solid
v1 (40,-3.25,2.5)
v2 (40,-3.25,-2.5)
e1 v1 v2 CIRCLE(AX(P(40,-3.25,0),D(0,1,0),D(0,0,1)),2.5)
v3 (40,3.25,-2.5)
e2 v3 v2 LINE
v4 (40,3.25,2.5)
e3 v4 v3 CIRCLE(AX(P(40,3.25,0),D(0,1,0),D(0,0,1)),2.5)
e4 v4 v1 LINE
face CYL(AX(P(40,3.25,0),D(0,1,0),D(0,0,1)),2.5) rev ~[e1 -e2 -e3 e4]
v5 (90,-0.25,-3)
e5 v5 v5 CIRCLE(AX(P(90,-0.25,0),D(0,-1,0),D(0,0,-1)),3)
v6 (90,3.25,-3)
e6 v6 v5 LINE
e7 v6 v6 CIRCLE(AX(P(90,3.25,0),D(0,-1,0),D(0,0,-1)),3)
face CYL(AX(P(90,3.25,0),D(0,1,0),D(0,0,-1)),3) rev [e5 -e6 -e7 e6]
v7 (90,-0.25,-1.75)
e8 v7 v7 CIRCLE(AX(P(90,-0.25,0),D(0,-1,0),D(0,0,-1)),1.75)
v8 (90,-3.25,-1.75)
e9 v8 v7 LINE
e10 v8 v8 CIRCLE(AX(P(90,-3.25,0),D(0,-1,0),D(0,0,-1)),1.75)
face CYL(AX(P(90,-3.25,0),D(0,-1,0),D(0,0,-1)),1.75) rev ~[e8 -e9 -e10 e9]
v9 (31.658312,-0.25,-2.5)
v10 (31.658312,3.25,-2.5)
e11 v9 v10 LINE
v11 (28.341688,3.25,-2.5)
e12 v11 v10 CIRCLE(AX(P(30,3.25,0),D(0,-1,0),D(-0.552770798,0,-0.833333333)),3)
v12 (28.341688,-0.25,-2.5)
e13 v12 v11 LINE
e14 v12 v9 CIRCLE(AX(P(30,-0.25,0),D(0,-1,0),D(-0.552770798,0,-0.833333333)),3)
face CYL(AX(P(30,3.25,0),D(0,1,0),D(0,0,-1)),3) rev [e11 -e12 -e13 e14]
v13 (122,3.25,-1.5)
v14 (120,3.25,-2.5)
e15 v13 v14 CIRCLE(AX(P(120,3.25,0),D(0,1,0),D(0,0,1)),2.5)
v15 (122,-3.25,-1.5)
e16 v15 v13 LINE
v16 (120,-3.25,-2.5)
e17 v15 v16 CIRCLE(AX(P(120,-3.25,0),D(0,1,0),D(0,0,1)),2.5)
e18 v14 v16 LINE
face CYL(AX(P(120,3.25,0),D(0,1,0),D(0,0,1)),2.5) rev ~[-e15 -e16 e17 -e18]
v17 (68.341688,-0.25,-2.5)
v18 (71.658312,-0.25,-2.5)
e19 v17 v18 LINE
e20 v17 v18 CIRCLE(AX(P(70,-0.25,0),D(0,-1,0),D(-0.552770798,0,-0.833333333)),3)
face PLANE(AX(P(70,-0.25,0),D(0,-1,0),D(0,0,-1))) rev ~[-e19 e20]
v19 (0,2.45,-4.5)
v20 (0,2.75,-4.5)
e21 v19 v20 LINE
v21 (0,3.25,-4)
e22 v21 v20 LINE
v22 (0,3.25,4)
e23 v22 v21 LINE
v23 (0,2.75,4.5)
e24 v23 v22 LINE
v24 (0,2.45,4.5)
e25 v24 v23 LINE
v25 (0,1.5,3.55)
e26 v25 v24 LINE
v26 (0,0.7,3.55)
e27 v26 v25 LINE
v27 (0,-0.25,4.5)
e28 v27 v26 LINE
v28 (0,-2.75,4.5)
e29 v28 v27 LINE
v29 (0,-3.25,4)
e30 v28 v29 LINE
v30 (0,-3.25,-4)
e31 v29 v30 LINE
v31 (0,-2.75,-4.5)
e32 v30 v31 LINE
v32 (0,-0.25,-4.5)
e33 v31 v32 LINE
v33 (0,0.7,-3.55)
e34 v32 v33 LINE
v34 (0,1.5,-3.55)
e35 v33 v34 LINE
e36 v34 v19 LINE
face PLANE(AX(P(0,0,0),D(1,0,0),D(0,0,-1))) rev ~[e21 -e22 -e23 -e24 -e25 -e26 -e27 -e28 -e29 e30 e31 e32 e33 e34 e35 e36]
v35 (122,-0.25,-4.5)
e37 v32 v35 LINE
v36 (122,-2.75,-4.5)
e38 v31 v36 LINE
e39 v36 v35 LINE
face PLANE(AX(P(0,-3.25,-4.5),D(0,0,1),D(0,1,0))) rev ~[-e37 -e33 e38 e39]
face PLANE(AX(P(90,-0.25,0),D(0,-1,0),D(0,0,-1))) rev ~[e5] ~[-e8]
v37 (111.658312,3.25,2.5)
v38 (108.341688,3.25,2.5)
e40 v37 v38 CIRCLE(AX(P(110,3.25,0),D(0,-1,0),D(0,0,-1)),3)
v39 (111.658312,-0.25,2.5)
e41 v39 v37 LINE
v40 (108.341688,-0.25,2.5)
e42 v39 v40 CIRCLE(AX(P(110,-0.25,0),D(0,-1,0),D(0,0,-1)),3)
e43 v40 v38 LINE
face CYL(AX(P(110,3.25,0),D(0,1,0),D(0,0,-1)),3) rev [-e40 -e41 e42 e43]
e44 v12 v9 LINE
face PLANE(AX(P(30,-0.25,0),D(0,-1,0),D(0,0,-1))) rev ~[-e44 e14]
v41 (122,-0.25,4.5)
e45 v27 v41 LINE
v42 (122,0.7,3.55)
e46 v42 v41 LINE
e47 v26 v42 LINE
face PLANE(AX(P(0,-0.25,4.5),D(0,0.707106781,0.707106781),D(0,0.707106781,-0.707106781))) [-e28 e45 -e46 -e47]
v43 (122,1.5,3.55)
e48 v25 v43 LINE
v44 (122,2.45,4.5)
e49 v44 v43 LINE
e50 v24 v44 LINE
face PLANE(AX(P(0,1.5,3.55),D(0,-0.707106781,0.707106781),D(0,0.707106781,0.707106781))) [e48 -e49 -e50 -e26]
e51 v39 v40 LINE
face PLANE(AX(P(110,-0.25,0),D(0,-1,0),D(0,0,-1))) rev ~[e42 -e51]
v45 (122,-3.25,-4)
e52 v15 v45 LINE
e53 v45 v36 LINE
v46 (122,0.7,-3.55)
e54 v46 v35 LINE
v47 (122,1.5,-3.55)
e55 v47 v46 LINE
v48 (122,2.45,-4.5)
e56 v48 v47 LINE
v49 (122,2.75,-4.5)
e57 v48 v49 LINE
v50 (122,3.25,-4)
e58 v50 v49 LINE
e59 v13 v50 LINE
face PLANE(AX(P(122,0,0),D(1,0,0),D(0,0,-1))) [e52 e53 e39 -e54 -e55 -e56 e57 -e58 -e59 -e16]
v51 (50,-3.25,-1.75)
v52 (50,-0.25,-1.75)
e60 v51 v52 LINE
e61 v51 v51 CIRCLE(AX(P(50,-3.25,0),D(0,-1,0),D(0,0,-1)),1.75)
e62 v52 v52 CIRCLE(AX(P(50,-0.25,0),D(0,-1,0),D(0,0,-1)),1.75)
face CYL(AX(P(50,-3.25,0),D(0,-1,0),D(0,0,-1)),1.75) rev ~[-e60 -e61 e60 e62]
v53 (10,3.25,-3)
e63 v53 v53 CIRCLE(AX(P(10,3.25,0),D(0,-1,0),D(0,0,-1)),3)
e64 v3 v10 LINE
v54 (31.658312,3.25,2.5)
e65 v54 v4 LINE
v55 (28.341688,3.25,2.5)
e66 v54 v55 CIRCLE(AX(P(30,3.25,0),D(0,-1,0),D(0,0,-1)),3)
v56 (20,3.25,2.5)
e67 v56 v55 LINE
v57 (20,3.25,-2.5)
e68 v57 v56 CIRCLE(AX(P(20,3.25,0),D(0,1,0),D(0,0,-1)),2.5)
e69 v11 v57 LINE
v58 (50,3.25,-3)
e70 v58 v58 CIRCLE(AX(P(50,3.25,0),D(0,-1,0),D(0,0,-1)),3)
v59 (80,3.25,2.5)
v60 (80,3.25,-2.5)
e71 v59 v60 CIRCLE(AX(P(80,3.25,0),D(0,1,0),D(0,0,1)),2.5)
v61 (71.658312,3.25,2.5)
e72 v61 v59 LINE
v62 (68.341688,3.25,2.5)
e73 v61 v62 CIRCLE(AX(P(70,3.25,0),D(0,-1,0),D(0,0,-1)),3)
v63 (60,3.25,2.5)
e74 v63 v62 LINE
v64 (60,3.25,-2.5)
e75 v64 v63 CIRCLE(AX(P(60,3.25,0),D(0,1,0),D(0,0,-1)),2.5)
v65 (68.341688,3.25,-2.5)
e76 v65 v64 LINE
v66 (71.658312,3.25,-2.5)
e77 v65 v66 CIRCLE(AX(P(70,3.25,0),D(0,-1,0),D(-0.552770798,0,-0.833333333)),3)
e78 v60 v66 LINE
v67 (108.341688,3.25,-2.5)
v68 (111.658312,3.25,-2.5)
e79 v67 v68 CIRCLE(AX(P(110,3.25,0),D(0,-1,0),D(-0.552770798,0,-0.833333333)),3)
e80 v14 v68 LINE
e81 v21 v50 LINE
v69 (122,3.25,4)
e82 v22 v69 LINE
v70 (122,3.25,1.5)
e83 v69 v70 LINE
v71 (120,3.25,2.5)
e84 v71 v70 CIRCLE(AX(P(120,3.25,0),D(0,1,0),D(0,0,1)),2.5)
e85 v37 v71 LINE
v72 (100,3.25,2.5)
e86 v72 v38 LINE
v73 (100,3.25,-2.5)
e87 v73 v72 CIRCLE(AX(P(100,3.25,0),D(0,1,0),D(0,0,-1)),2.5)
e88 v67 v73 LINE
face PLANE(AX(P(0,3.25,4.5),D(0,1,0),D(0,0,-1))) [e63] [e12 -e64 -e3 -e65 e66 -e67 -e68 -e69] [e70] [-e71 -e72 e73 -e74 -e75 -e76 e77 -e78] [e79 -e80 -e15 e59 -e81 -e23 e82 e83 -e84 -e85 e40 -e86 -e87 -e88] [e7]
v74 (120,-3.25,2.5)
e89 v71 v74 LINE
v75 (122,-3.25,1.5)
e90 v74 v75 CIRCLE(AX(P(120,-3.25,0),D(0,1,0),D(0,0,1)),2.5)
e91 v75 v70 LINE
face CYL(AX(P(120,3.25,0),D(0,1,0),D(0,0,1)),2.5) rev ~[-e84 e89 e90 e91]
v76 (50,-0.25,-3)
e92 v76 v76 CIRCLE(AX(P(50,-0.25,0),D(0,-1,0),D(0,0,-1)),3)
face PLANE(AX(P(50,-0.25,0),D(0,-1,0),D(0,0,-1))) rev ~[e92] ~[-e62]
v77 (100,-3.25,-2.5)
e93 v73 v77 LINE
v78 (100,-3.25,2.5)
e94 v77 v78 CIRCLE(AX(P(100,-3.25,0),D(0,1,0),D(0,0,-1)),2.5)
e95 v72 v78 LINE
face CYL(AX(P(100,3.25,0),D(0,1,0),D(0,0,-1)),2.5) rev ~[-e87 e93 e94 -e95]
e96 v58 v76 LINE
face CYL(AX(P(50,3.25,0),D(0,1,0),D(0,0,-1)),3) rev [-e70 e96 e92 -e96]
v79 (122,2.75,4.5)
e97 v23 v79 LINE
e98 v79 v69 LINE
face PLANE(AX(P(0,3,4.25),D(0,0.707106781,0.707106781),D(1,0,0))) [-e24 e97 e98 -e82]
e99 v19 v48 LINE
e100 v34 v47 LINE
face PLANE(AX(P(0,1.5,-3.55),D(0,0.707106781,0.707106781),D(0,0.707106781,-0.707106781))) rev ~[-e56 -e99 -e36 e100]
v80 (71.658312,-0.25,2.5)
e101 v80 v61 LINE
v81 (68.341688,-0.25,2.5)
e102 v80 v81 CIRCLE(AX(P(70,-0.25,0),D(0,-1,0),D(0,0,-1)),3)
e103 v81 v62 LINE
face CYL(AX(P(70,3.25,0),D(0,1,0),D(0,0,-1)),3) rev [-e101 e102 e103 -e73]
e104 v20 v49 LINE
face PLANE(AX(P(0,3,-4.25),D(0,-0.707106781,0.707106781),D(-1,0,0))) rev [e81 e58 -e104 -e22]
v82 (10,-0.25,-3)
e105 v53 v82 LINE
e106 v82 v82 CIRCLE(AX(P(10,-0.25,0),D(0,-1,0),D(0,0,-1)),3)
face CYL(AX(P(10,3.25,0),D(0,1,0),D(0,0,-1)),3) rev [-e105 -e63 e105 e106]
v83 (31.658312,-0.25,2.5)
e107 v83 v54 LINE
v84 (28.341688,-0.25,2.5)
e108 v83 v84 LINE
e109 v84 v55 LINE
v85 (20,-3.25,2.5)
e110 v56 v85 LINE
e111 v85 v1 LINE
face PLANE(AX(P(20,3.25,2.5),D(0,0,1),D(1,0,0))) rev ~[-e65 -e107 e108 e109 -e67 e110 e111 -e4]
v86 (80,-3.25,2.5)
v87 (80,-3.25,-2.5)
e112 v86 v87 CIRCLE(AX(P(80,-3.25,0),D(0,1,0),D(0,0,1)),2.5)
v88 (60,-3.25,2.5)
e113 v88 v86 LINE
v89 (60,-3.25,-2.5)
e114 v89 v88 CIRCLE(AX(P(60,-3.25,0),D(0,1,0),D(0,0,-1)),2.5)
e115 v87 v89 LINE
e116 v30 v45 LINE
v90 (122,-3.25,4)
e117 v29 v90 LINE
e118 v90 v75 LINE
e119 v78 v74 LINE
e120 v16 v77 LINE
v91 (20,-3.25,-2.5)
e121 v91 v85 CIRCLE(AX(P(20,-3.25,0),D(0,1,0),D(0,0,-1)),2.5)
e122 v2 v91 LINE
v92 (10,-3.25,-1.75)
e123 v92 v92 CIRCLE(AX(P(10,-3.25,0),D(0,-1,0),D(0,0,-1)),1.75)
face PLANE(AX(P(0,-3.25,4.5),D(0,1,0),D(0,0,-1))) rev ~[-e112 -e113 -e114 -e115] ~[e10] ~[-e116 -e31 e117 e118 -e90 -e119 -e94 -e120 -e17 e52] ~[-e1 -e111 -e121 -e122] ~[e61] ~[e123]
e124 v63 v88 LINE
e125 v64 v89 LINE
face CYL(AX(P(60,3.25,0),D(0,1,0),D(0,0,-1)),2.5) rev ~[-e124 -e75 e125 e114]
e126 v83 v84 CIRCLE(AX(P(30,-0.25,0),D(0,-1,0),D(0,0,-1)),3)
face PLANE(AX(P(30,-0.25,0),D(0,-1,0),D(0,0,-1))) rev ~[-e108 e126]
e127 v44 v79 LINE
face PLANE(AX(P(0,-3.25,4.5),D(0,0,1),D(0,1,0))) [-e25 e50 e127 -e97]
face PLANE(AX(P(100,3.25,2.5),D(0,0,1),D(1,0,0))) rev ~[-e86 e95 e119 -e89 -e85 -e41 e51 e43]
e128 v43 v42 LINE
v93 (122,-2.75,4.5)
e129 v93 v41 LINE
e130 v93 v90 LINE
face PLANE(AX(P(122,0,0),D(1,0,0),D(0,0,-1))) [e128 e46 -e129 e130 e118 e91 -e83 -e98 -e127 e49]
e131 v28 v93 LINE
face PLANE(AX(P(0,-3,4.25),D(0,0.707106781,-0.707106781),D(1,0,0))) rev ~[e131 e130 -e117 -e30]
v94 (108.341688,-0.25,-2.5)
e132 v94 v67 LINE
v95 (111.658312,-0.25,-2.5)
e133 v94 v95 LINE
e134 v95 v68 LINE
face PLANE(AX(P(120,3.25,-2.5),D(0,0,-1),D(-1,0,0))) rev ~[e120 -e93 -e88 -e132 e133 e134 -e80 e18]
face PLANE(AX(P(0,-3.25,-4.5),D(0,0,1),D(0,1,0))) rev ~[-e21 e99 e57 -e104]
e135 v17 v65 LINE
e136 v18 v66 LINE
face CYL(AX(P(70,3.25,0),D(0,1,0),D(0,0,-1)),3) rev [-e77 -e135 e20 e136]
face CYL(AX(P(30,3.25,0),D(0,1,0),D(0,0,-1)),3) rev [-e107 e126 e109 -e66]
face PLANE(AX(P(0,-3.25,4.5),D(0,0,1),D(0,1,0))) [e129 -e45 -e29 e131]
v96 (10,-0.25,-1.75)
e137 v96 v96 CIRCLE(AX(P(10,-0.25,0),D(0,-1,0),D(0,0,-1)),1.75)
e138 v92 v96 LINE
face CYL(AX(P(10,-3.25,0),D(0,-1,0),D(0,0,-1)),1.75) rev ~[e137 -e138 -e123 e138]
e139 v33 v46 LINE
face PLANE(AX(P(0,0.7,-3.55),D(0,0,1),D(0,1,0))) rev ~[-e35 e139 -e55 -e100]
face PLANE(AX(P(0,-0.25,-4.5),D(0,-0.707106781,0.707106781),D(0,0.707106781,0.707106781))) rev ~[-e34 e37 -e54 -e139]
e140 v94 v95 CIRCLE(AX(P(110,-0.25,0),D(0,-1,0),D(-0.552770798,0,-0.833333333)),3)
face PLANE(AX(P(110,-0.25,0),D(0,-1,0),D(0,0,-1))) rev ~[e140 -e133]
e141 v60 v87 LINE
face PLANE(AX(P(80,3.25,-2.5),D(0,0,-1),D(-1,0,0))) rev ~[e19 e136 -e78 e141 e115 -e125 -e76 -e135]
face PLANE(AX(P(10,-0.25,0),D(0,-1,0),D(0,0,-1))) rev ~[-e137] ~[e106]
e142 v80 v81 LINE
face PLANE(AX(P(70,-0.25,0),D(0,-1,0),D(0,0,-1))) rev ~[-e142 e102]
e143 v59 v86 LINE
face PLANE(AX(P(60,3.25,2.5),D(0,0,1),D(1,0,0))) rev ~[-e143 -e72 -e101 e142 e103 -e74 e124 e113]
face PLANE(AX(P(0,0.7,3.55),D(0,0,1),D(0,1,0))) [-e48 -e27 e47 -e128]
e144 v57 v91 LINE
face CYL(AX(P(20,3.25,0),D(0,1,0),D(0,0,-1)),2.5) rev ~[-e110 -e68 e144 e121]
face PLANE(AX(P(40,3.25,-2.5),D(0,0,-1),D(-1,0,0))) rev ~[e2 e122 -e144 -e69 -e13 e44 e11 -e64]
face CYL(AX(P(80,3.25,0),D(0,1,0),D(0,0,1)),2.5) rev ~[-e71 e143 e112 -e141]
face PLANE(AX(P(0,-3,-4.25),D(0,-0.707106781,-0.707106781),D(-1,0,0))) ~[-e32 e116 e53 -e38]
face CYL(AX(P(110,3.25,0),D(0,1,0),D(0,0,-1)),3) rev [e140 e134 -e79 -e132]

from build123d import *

# Parameters (mm, degrees)
SKETCH_1_W            = 9
SKETCH_1_H            = 6.5
EXTRUDE_1_DEPTH       = 122
SKETCH_2_R            = 1.75
CUT_EXTRUDE_2_DEPTH   = 8
SKETCH_3_R            = 3
CUT_EXTRUDE_3_DEPTH   = 3.5
CHAMFER_1_SIZE        = 0.5
CUT_EXTRUDE_2_2_DEPTH = 123.126215449
CUT_EXTRUDE_3_2_DEPTH = 10


with BuildPart() as part:
    # 草图1 → 拉伸1 (new body)
    with BuildSketch(Plane(origin=(0, 0, 0), x_dir=(0, 0, -1), z_dir=(1, 0, 0))):
        Rectangle(SKETCH_1_W, SKETCH_1_H)
    extrude(amount=EXTRUDE_1_DEPTH)

    # 草图2 → Cut-Extrude 2 (cut)
    with BuildSketch(Plane.XZ.offset(3.25)):
        with Locations(Location((10, 0, 0), (0, 0, 270))):
            Circle(SKETCH_2_R)
        with Locations(Location((30, 0, 0), (0, 0, 270))):
            Circle(SKETCH_2_R)
        with Locations(Location((50, 0, 0), (0, 0, 270))):
            Circle(SKETCH_2_R)
        with Locations(Location((70, 0, 0), (0, 0, 270))):
            Circle(SKETCH_2_R)
        with Locations(Location((90, 0, 0), (0, 0, 270))):
            Circle(SKETCH_2_R)
        with Locations(Location((110, 0, 0), (0, 0, 270))):
            Circle(SKETCH_2_R)
        with Locations((130, 0)):
            Circle(SKETCH_2_R)
        with Locations((150, 0)):
            Circle(SKETCH_2_R)
        with Locations((170, 0)):
            Circle(SKETCH_2_R)
        with Locations((190, 0)):
            Circle(SKETCH_2_R)
        with Locations((210, 0)):
            Circle(SKETCH_2_R)
        with Locations((230, 0)):
            Circle(SKETCH_2_R)
        with Locations((250, 0)):
            Circle(SKETCH_2_R)
        with Locations((270, 0)):
            Circle(SKETCH_2_R)
        with Locations((290, 0)):
            Circle(SKETCH_2_R)
        with Locations((310, 0)):
            Circle(SKETCH_2_R)
        with Locations((330, 0)):
            Circle(SKETCH_2_R)
        with Locations((350, 0)):
            Circle(SKETCH_2_R)
        with Locations((370, 0)):
            Circle(SKETCH_2_R)
        with Locations((390, 0)):
            Circle(SKETCH_2_R)
        with Locations((410, 0)):
            Circle(SKETCH_2_R)
        with Locations((430, 0)):
            Circle(SKETCH_2_R)
        with Locations((450, 0)):
            Circle(SKETCH_2_R)
        with Locations((470, 0)):
            Circle(SKETCH_2_R)
        with Locations((490, 0)):
            Circle(SKETCH_2_R)
        with Locations((510, 0)):
            Circle(SKETCH_2_R)
        with Locations((530, 0)):
            Circle(SKETCH_2_R)
        with Locations((550, 0)):
            Circle(SKETCH_2_R)
        with Locations((570, 0)):
            Circle(SKETCH_2_R)
        with Locations((590, 0)):
            Circle(SKETCH_2_R)
        with Locations((610, 0)):
            Circle(SKETCH_2_R)
        with Locations((630, 0)):
            Circle(SKETCH_2_R)
        with Locations((650, 0)):
            Circle(SKETCH_2_R)
        with Locations((670, 0)):
            Circle(SKETCH_2_R)
        with Locations((690, 0)):
            Circle(SKETCH_2_R)
        with Locations((710, 0)):
            Circle(SKETCH_2_R)
        with Locations((730, 0)):
            Circle(SKETCH_2_R)
        with Locations((750, 0)):
            Circle(SKETCH_2_R)
        with Locations((770, 0)):
            Circle(SKETCH_2_R)
        with Locations((790, 0)):
            Circle(SKETCH_2_R)
        with Locations((810, 0)):
            Circle(SKETCH_2_R)
        with Locations((830, 0)):
            Circle(SKETCH_2_R)
        with Locations((850, 0)):
            Circle(SKETCH_2_R)
        with Locations((870, 0)):
            Circle(SKETCH_2_R)
        with Locations((890, 0)):
            Circle(SKETCH_2_R)
        with Locations((910, 0)):
            Circle(SKETCH_2_R)
        with Locations((930, 0)):
            Circle(SKETCH_2_R)
        with Locations((950, 0)):
            Circle(SKETCH_2_R)
        with Locations((970, 0)):
            Circle(SKETCH_2_R)
        with Locations((990, 0)):
            Circle(SKETCH_2_R)
        with Locations((1010, 0)):
            Circle(SKETCH_2_R)
        with Locations((1030, 0)):
            Circle(SKETCH_2_R)
        with Locations((1050, 0)):
            Circle(SKETCH_2_R)
        with Locations((1070, 0)):
            Circle(SKETCH_2_R)
        with Locations((1090, 0)):
            Circle(SKETCH_2_R)
        with Locations((1110, 0)):
            Circle(SKETCH_2_R)
        with Locations((1130, 0)):
            Circle(SKETCH_2_R)
        with Locations((1150, 0)):
            Circle(SKETCH_2_R)
        with Locations((1170, 0)):
            Circle(SKETCH_2_R)
        with Locations((1190, 0)):
            Circle(SKETCH_2_R)
    extrude(amount=-CUT_EXTRUDE_2_DEPTH, mode=Mode.SUBTRACT)

    # 草图3 → Cut-Extrude 3 (cut)
    with BuildSketch(Plane.XZ.offset(-3.25)):
        with Locations(Location((10, 0, 0), (0, 0, 270))):
            Circle(SKETCH_3_R)
        with Locations(Location((30, 0, 0), (0, 0, 270))):
            Circle(SKETCH_3_R)
        with Locations(Location((50, 0, 0), (0, 0, 270))):
            Circle(SKETCH_3_R)
        with Locations(Location((70, 0, 0), (0, 0, 270))):
            Circle(SKETCH_3_R)
        with Locations(Location((90, 0, 0), (0, 0, 270))):
            Circle(SKETCH_3_R)
        with Locations(Location((110, 0, 0), (0, 0, 270))):
            Circle(SKETCH_3_R)
        with Locations((130, 0)):
            Circle(SKETCH_3_R)
        with Locations((150, 0)):
            Circle(SKETCH_3_R)
        with Locations((170, 0)):
            Circle(SKETCH_3_R)
        with Locations((190, 0)):
            Circle(SKETCH_3_R)
        with Locations((210, 0)):
            Circle(SKETCH_3_R)
        with Locations((230, 0)):
            Circle(SKETCH_3_R)
        with Locations((250, 0)):
            Circle(SKETCH_3_R)
        with Locations((270, 0)):
            Circle(SKETCH_3_R)
        with Locations((290, 0)):
            Circle(SKETCH_3_R)
        with Locations((310, 0)):
            Circle(SKETCH_3_R)
        with Locations((330, 0)):
            Circle(SKETCH_3_R)
        with Locations((350, 0)):
            Circle(SKETCH_3_R)
        with Locations((370, 0)):
            Circle(SKETCH_3_R)
        with Locations((390, 0)):
            Circle(SKETCH_3_R)
        with Locations((410, 0)):
            Circle(SKETCH_3_R)
        with Locations((430, 0)):
            Circle(SKETCH_3_R)
        with Locations((450, 0)):
            Circle(SKETCH_3_R)
        with Locations((470, 0)):
            Circle(SKETCH_3_R)
        with Locations((490, 0)):
            Circle(SKETCH_3_R)
        with Locations((510, 0)):
            Circle(SKETCH_3_R)
        with Locations((530, 0)):
            Circle(SKETCH_3_R)
        with Locations((550, 0)):
            Circle(SKETCH_3_R)
        with Locations((570, 0)):
            Circle(SKETCH_3_R)
        with Locations((590, 0)):
            Circle(SKETCH_3_R)
        with Locations((610, 0)):
            Circle(SKETCH_3_R)
        with Locations((630, 0)):
            Circle(SKETCH_3_R)
        with Locations((650, 0)):
            Circle(SKETCH_3_R)
        with Locations((670, 0)):
            Circle(SKETCH_3_R)
        with Locations((690, 0)):
            Circle(SKETCH_3_R)
        with Locations((710, 0)):
            Circle(SKETCH_3_R)
        with Locations((730, 0)):
            Circle(SKETCH_3_R)
        with Locations((750, 0)):
            Circle(SKETCH_3_R)
        with Locations((770, 0)):
            Circle(SKETCH_3_R)
        with Locations((790, 0)):
            Circle(SKETCH_3_R)
        with Locations((810, 0)):
            Circle(SKETCH_3_R)
        with Locations((830, 0)):
            Circle(SKETCH_3_R)
        with Locations((850, 0)):
            Circle(SKETCH_3_R)
        with Locations((870, 0)):
            Circle(SKETCH_3_R)
        with Locations((890, 0)):
            Circle(SKETCH_3_R)
        with Locations((910, 0)):
            Circle(SKETCH_3_R)
        with Locations((930, 0)):
            Circle(SKETCH_3_R)
        with Locations((950, 0)):
            Circle(SKETCH_3_R)
        with Locations((970, 0)):
            Circle(SKETCH_3_R)
        with Locations((990, 0)):
            Circle(SKETCH_3_R)
        with Locations((1010, 0)):
            Circle(SKETCH_3_R)
        with Locations((1030, 0)):
            Circle(SKETCH_3_R)
        with Locations((1050, 0)):
            Circle(SKETCH_3_R)
        with Locations((1070, 0)):
            Circle(SKETCH_3_R)
        with Locations((1090, 0)):
            Circle(SKETCH_3_R)
        with Locations((1110, 0)):
            Circle(SKETCH_3_R)
        with Locations((1130, 0)):
            Circle(SKETCH_3_R)
        with Locations((1150, 0)):
            Circle(SKETCH_3_R)
        with Locations((1170, 0)):
            Circle(SKETCH_3_R)
        with Locations((1190, 0)):
            Circle(SKETCH_3_R)
    extrude(amount=CUT_EXTRUDE_3_DEPTH, mode=Mode.SUBTRACT)

    # 倒角1
    chamfer_1_edges = [part.edges().sort_by_distance(p)[0] for p in [
        (61, 3.25, 4.5),
        (61, 3.25, -4.5),
        (61, -3.25, -4.5),
        (61, -3.25, 4.5),
    ]]
    chamfer(chamfer_1_edges, length=CHAMFER_1_SIZE)

    # 草图4 → Cut-Extrude 2 2 (cut, through all)
    with BuildSketch(Plane.ZY):
        Polygon((-4.5, 2.45), (-4.5, -0.25), (-3.55, 0.7), (-3.55, 1.5), align=None)
        Polygon((4.5, 2.45), (4.5, -0.25), (3.55, 0.7), (3.55, 1.5), align=None)
    extrude(amount=-CUT_EXTRUDE_2_2_DEPTH, mode=Mode.SUBTRACT)

    # 草图5 → Cut-Extrude 3 2 (cut)
    with BuildSketch(Plane(origin=(0, 3.25, 0), x_dir=(1, 0, 0), z_dir=(0, 1, 0))):
        with BuildLine():
            Line((60, -2.5), (80, -2.5))
            ThreePointArc((80, -2.5), (82.5, 0), (80, 2.5))
            Line((80, 2.5), (60, 2.5))
            ThreePointArc((60, 2.5), (57.5, 0), (60, -2.5))
        make_face()
        with BuildLine():
            Line((20, -2.5), (40, -2.5))
            ThreePointArc((40, -2.5), (42.5, 0), (40, 2.5))
            Line((40, 2.5), (20, 2.5))
            ThreePointArc((20, 2.5), (17.5, 0), (20, -2.5))
        make_face()
        with BuildLine():
            Line((100, -2.5), (120, -2.5))
            ThreePointArc((120, -2.5), (122.5, 0), (120, 2.5))
            Line((120, 2.5), (100, 2.5))
            ThreePointArc((100, 2.5), (97.5, 0), (100, -2.5))
        make_face()
        with BuildLine():
            Line((140, -2.5), (160, -2.5))
            ThreePointArc((160, -2.5), (162.5, 0), (160, 2.5))
            Line((160, 2.5), (140, 2.5))
            ThreePointArc((140, 2.5), (137.5, 0), (140, -2.5))
        make_face()
        with BuildLine():
            Line((180, -2.5), (200, -2.5))
            ThreePointArc((200, -2.5), (202.5, 0), (200, 2.5))
            Line((200, 2.5), (180, 2.5))
            ThreePointArc((180, 2.5), (177.5, 0), (180, -2.5))
        make_face()
        with BuildLine():
            Line((220, -2.5), (240, -2.5))
            ThreePointArc((240, -2.5), (242.5, 0), (240, 2.5))
            Line((240, 2.5), (220, 2.5))
            ThreePointArc((220, 2.5), (217.5, 0), (220, -2.5))
        make_face()
        with BuildLine():
            Line((260, -2.5), (280, -2.5))
            ThreePointArc((280, -2.5), (282.5, 0), (280, 2.5))
            Line((280, 2.5), (260, 2.5))
            ThreePointArc((260, 2.5), (257.5, 0), (260, -2.5))
        make_face()
        with BuildLine():
            Line((300, -2.5), (320, -2.5))
            ThreePointArc((320, -2.5), (322.5, 0), (320, 2.5))
            Line((320, 2.5), (300, 2.5))
            ThreePointArc((300, 2.5), (297.5, 0), (300, -2.5))
        make_face()
        with BuildLine():
            Line((340, -2.5), (360, -2.5))
            ThreePointArc((360, -2.5), (362.5, 0), (360, 2.5))
            Line((360, 2.5), (340, 2.5))
            ThreePointArc((340, 2.5), (337.5, 0), (340, -2.5))
        make_face()
        with BuildLine():
            Line((380, -2.5), (400, -2.5))
            ThreePointArc((400, -2.5), (402.5, 0), (400, 2.5))
            Line((400, 2.5), (380, 2.5))
            ThreePointArc((380, 2.5), (377.5, 0), (380, -2.5))
        make_face()
        with BuildLine():
            Line((420, -2.5), (440, -2.5))
            ThreePointArc((440, -2.5), (442.5, 0), (440, 2.5))
            Line((440, 2.5), (420, 2.5))
            ThreePointArc((420, 2.5), (417.5, 0), (420, -2.5))
        make_face()
        with BuildLine():
            Line((460, -2.5), (480, -2.5))
            ThreePointArc((480, -2.5), (482.5, 0), (480, 2.5))
            Line((480, 2.5), (460, 2.5))
            ThreePointArc((460, 2.5), (457.5, 0), (460, -2.5))
        make_face()
        with BuildLine():
            Line((500, -2.5), (520, -2.5))
            ThreePointArc((520, -2.5), (522.5, 0), (520, 2.5))
            Line((520, 2.5), (500, 2.5))
            ThreePointArc((500, 2.5), (497.5, 0), (500, -2.5))
        make_face()
        with BuildLine():
            Line((540, -2.5), (560, -2.5))
            ThreePointArc((560, -2.5), (562.5, 0), (560, 2.5))
            Line((560, 2.5), (540, 2.5))
            ThreePointArc((540, 2.5), (537.5, 0), (540, -2.5))
        make_face()
        with BuildLine():
            Line((580, -2.5), (600, -2.5))
            ThreePointArc((600, -2.5), (602.5, 0), (600, 2.5))
            Line((600, 2.5), (580, 2.5))
            ThreePointArc((580, 2.5), (577.5, 0), (580, -2.5))
        make_face()
        with BuildLine():
            Line((620, -2.5), (640, -2.5))
            ThreePointArc((640, -2.5), (642.5, 0), (640, 2.5))
            Line((640, 2.5), (620, 2.5))
            ThreePointArc((620, 2.5), (617.5, 0), (620, -2.5))
        make_face()
        with BuildLine():
            Line((660, -2.5), (680, -2.5))
            ThreePointArc((680, -2.5), (682.5, 0), (680, 2.5))
            Line((680, 2.5), (660, 2.5))
            ThreePointArc((660, 2.5), (657.5, 0), (660, -2.5))
        make_face()
        with BuildLine():
            Line((700, -2.5), (720, -2.5))
            ThreePointArc((720, -2.5), (722.5, 0), (720, 2.5))
            Line((720, 2.5), (700, 2.5))
            ThreePointArc((700, 2.5), (697.5, 0), (700, -2.5))
        make_face()
        with BuildLine():
            Line((740, -2.5), (760, -2.5))
            ThreePointArc((760, -2.5), (762.5, 0), (760, 2.5))
            Line((760, 2.5), (740, 2.5))
            ThreePointArc((740, 2.5), (737.5, 0), (740, -2.5))
        make_face()
        with BuildLine():
            Line((780, -2.5), (800, -2.5))
            ThreePointArc((800, -2.5), (802.5, 0), (800, 2.5))
            Line((800, 2.5), (780, 2.5))
            ThreePointArc((780, 2.5), (777.5, 0), (780, -2.5))
        make_face()
        with BuildLine():
            Line((820, -2.5), (840, -2.5))
            ThreePointArc((840, -2.5), (842.5, 0), (840, 2.5))
            Line((840, 2.5), (820, 2.5))
            ThreePointArc((820, 2.5), (817.5, 0), (820, -2.5))
        make_face()
        with BuildLine():
            Line((860, -2.5), (880, -2.5))
            ThreePointArc((880, -2.5), (882.5, 0), (880, 2.5))
            Line((880, 2.5), (860, 2.5))
            ThreePointArc((860, 2.5), (857.5, 0), (860, -2.5))
        make_face()
        with BuildLine():
            Line((900, -2.5), (920, -2.5))
            ThreePointArc((920, -2.5), (922.5, 0), (920, 2.5))
            Line((920, 2.5), (900, 2.5))
            ThreePointArc((900, 2.5), (897.5, 0), (900, -2.5))
        make_face()
        with BuildLine():
            Line((940, -2.5), (960, -2.5))
            ThreePointArc((960, -2.5), (962.5, 0), (960, 2.5))
            Line((960, 2.5), (940, 2.5))
            ThreePointArc((940, 2.5), (937.5, 0), (940, -2.5))
        make_face()
        with BuildLine():
            Line((980, -2.5), (1000, -2.5))
            ThreePointArc((1000, -2.5), (1002.5, 0), (1000, 2.5))
            Line((1000, 2.5), (980, 2.5))
            ThreePointArc((980, 2.5), (977.5, 0), (980, -2.5))
        make_face()
        with BuildLine():
            Line((1020, -2.5), (1040, -2.5))
            ThreePointArc((1040, -2.5), (1042.5, 0), (1040, 2.5))
            Line((1040, 2.5), (1020, 2.5))
            ThreePointArc((1020, 2.5), (1017.5, 0), (1020, -2.5))
        make_face()
        with BuildLine():
            Line((1060, -2.5), (1080, -2.5))
            ThreePointArc((1080, -2.5), (1082.5, 0), (1080, 2.5))
            Line((1080, 2.5), (1060, 2.5))
            ThreePointArc((1060, 2.5), (1057.5, 0), (1060, -2.5))
        make_face()
        with BuildLine():
            Line((1100, -2.5), (1120, -2.5))
            ThreePointArc((1120, -2.5), (1122.5, 0), (1120, 2.5))
            Line((1120, 2.5), (1100, 2.5))
            ThreePointArc((1100, 2.5), (1097.5, 0), (1100, -2.5))
        make_face()
        with BuildLine():
            Line((1140, -2.5), (1160, -2.5))
            ThreePointArc((1160, -2.5), (1162.5, 0), (1160, 2.5))
            Line((1160, 2.5), (1140, 2.5))
            ThreePointArc((1140, 2.5), (1137.5, 0), (1140, -2.5))
        make_face()
    extrude(amount=-CUT_EXTRUDE_3_2_DEPTH, mode=Mode.SUBTRACT)


solid = part.part
